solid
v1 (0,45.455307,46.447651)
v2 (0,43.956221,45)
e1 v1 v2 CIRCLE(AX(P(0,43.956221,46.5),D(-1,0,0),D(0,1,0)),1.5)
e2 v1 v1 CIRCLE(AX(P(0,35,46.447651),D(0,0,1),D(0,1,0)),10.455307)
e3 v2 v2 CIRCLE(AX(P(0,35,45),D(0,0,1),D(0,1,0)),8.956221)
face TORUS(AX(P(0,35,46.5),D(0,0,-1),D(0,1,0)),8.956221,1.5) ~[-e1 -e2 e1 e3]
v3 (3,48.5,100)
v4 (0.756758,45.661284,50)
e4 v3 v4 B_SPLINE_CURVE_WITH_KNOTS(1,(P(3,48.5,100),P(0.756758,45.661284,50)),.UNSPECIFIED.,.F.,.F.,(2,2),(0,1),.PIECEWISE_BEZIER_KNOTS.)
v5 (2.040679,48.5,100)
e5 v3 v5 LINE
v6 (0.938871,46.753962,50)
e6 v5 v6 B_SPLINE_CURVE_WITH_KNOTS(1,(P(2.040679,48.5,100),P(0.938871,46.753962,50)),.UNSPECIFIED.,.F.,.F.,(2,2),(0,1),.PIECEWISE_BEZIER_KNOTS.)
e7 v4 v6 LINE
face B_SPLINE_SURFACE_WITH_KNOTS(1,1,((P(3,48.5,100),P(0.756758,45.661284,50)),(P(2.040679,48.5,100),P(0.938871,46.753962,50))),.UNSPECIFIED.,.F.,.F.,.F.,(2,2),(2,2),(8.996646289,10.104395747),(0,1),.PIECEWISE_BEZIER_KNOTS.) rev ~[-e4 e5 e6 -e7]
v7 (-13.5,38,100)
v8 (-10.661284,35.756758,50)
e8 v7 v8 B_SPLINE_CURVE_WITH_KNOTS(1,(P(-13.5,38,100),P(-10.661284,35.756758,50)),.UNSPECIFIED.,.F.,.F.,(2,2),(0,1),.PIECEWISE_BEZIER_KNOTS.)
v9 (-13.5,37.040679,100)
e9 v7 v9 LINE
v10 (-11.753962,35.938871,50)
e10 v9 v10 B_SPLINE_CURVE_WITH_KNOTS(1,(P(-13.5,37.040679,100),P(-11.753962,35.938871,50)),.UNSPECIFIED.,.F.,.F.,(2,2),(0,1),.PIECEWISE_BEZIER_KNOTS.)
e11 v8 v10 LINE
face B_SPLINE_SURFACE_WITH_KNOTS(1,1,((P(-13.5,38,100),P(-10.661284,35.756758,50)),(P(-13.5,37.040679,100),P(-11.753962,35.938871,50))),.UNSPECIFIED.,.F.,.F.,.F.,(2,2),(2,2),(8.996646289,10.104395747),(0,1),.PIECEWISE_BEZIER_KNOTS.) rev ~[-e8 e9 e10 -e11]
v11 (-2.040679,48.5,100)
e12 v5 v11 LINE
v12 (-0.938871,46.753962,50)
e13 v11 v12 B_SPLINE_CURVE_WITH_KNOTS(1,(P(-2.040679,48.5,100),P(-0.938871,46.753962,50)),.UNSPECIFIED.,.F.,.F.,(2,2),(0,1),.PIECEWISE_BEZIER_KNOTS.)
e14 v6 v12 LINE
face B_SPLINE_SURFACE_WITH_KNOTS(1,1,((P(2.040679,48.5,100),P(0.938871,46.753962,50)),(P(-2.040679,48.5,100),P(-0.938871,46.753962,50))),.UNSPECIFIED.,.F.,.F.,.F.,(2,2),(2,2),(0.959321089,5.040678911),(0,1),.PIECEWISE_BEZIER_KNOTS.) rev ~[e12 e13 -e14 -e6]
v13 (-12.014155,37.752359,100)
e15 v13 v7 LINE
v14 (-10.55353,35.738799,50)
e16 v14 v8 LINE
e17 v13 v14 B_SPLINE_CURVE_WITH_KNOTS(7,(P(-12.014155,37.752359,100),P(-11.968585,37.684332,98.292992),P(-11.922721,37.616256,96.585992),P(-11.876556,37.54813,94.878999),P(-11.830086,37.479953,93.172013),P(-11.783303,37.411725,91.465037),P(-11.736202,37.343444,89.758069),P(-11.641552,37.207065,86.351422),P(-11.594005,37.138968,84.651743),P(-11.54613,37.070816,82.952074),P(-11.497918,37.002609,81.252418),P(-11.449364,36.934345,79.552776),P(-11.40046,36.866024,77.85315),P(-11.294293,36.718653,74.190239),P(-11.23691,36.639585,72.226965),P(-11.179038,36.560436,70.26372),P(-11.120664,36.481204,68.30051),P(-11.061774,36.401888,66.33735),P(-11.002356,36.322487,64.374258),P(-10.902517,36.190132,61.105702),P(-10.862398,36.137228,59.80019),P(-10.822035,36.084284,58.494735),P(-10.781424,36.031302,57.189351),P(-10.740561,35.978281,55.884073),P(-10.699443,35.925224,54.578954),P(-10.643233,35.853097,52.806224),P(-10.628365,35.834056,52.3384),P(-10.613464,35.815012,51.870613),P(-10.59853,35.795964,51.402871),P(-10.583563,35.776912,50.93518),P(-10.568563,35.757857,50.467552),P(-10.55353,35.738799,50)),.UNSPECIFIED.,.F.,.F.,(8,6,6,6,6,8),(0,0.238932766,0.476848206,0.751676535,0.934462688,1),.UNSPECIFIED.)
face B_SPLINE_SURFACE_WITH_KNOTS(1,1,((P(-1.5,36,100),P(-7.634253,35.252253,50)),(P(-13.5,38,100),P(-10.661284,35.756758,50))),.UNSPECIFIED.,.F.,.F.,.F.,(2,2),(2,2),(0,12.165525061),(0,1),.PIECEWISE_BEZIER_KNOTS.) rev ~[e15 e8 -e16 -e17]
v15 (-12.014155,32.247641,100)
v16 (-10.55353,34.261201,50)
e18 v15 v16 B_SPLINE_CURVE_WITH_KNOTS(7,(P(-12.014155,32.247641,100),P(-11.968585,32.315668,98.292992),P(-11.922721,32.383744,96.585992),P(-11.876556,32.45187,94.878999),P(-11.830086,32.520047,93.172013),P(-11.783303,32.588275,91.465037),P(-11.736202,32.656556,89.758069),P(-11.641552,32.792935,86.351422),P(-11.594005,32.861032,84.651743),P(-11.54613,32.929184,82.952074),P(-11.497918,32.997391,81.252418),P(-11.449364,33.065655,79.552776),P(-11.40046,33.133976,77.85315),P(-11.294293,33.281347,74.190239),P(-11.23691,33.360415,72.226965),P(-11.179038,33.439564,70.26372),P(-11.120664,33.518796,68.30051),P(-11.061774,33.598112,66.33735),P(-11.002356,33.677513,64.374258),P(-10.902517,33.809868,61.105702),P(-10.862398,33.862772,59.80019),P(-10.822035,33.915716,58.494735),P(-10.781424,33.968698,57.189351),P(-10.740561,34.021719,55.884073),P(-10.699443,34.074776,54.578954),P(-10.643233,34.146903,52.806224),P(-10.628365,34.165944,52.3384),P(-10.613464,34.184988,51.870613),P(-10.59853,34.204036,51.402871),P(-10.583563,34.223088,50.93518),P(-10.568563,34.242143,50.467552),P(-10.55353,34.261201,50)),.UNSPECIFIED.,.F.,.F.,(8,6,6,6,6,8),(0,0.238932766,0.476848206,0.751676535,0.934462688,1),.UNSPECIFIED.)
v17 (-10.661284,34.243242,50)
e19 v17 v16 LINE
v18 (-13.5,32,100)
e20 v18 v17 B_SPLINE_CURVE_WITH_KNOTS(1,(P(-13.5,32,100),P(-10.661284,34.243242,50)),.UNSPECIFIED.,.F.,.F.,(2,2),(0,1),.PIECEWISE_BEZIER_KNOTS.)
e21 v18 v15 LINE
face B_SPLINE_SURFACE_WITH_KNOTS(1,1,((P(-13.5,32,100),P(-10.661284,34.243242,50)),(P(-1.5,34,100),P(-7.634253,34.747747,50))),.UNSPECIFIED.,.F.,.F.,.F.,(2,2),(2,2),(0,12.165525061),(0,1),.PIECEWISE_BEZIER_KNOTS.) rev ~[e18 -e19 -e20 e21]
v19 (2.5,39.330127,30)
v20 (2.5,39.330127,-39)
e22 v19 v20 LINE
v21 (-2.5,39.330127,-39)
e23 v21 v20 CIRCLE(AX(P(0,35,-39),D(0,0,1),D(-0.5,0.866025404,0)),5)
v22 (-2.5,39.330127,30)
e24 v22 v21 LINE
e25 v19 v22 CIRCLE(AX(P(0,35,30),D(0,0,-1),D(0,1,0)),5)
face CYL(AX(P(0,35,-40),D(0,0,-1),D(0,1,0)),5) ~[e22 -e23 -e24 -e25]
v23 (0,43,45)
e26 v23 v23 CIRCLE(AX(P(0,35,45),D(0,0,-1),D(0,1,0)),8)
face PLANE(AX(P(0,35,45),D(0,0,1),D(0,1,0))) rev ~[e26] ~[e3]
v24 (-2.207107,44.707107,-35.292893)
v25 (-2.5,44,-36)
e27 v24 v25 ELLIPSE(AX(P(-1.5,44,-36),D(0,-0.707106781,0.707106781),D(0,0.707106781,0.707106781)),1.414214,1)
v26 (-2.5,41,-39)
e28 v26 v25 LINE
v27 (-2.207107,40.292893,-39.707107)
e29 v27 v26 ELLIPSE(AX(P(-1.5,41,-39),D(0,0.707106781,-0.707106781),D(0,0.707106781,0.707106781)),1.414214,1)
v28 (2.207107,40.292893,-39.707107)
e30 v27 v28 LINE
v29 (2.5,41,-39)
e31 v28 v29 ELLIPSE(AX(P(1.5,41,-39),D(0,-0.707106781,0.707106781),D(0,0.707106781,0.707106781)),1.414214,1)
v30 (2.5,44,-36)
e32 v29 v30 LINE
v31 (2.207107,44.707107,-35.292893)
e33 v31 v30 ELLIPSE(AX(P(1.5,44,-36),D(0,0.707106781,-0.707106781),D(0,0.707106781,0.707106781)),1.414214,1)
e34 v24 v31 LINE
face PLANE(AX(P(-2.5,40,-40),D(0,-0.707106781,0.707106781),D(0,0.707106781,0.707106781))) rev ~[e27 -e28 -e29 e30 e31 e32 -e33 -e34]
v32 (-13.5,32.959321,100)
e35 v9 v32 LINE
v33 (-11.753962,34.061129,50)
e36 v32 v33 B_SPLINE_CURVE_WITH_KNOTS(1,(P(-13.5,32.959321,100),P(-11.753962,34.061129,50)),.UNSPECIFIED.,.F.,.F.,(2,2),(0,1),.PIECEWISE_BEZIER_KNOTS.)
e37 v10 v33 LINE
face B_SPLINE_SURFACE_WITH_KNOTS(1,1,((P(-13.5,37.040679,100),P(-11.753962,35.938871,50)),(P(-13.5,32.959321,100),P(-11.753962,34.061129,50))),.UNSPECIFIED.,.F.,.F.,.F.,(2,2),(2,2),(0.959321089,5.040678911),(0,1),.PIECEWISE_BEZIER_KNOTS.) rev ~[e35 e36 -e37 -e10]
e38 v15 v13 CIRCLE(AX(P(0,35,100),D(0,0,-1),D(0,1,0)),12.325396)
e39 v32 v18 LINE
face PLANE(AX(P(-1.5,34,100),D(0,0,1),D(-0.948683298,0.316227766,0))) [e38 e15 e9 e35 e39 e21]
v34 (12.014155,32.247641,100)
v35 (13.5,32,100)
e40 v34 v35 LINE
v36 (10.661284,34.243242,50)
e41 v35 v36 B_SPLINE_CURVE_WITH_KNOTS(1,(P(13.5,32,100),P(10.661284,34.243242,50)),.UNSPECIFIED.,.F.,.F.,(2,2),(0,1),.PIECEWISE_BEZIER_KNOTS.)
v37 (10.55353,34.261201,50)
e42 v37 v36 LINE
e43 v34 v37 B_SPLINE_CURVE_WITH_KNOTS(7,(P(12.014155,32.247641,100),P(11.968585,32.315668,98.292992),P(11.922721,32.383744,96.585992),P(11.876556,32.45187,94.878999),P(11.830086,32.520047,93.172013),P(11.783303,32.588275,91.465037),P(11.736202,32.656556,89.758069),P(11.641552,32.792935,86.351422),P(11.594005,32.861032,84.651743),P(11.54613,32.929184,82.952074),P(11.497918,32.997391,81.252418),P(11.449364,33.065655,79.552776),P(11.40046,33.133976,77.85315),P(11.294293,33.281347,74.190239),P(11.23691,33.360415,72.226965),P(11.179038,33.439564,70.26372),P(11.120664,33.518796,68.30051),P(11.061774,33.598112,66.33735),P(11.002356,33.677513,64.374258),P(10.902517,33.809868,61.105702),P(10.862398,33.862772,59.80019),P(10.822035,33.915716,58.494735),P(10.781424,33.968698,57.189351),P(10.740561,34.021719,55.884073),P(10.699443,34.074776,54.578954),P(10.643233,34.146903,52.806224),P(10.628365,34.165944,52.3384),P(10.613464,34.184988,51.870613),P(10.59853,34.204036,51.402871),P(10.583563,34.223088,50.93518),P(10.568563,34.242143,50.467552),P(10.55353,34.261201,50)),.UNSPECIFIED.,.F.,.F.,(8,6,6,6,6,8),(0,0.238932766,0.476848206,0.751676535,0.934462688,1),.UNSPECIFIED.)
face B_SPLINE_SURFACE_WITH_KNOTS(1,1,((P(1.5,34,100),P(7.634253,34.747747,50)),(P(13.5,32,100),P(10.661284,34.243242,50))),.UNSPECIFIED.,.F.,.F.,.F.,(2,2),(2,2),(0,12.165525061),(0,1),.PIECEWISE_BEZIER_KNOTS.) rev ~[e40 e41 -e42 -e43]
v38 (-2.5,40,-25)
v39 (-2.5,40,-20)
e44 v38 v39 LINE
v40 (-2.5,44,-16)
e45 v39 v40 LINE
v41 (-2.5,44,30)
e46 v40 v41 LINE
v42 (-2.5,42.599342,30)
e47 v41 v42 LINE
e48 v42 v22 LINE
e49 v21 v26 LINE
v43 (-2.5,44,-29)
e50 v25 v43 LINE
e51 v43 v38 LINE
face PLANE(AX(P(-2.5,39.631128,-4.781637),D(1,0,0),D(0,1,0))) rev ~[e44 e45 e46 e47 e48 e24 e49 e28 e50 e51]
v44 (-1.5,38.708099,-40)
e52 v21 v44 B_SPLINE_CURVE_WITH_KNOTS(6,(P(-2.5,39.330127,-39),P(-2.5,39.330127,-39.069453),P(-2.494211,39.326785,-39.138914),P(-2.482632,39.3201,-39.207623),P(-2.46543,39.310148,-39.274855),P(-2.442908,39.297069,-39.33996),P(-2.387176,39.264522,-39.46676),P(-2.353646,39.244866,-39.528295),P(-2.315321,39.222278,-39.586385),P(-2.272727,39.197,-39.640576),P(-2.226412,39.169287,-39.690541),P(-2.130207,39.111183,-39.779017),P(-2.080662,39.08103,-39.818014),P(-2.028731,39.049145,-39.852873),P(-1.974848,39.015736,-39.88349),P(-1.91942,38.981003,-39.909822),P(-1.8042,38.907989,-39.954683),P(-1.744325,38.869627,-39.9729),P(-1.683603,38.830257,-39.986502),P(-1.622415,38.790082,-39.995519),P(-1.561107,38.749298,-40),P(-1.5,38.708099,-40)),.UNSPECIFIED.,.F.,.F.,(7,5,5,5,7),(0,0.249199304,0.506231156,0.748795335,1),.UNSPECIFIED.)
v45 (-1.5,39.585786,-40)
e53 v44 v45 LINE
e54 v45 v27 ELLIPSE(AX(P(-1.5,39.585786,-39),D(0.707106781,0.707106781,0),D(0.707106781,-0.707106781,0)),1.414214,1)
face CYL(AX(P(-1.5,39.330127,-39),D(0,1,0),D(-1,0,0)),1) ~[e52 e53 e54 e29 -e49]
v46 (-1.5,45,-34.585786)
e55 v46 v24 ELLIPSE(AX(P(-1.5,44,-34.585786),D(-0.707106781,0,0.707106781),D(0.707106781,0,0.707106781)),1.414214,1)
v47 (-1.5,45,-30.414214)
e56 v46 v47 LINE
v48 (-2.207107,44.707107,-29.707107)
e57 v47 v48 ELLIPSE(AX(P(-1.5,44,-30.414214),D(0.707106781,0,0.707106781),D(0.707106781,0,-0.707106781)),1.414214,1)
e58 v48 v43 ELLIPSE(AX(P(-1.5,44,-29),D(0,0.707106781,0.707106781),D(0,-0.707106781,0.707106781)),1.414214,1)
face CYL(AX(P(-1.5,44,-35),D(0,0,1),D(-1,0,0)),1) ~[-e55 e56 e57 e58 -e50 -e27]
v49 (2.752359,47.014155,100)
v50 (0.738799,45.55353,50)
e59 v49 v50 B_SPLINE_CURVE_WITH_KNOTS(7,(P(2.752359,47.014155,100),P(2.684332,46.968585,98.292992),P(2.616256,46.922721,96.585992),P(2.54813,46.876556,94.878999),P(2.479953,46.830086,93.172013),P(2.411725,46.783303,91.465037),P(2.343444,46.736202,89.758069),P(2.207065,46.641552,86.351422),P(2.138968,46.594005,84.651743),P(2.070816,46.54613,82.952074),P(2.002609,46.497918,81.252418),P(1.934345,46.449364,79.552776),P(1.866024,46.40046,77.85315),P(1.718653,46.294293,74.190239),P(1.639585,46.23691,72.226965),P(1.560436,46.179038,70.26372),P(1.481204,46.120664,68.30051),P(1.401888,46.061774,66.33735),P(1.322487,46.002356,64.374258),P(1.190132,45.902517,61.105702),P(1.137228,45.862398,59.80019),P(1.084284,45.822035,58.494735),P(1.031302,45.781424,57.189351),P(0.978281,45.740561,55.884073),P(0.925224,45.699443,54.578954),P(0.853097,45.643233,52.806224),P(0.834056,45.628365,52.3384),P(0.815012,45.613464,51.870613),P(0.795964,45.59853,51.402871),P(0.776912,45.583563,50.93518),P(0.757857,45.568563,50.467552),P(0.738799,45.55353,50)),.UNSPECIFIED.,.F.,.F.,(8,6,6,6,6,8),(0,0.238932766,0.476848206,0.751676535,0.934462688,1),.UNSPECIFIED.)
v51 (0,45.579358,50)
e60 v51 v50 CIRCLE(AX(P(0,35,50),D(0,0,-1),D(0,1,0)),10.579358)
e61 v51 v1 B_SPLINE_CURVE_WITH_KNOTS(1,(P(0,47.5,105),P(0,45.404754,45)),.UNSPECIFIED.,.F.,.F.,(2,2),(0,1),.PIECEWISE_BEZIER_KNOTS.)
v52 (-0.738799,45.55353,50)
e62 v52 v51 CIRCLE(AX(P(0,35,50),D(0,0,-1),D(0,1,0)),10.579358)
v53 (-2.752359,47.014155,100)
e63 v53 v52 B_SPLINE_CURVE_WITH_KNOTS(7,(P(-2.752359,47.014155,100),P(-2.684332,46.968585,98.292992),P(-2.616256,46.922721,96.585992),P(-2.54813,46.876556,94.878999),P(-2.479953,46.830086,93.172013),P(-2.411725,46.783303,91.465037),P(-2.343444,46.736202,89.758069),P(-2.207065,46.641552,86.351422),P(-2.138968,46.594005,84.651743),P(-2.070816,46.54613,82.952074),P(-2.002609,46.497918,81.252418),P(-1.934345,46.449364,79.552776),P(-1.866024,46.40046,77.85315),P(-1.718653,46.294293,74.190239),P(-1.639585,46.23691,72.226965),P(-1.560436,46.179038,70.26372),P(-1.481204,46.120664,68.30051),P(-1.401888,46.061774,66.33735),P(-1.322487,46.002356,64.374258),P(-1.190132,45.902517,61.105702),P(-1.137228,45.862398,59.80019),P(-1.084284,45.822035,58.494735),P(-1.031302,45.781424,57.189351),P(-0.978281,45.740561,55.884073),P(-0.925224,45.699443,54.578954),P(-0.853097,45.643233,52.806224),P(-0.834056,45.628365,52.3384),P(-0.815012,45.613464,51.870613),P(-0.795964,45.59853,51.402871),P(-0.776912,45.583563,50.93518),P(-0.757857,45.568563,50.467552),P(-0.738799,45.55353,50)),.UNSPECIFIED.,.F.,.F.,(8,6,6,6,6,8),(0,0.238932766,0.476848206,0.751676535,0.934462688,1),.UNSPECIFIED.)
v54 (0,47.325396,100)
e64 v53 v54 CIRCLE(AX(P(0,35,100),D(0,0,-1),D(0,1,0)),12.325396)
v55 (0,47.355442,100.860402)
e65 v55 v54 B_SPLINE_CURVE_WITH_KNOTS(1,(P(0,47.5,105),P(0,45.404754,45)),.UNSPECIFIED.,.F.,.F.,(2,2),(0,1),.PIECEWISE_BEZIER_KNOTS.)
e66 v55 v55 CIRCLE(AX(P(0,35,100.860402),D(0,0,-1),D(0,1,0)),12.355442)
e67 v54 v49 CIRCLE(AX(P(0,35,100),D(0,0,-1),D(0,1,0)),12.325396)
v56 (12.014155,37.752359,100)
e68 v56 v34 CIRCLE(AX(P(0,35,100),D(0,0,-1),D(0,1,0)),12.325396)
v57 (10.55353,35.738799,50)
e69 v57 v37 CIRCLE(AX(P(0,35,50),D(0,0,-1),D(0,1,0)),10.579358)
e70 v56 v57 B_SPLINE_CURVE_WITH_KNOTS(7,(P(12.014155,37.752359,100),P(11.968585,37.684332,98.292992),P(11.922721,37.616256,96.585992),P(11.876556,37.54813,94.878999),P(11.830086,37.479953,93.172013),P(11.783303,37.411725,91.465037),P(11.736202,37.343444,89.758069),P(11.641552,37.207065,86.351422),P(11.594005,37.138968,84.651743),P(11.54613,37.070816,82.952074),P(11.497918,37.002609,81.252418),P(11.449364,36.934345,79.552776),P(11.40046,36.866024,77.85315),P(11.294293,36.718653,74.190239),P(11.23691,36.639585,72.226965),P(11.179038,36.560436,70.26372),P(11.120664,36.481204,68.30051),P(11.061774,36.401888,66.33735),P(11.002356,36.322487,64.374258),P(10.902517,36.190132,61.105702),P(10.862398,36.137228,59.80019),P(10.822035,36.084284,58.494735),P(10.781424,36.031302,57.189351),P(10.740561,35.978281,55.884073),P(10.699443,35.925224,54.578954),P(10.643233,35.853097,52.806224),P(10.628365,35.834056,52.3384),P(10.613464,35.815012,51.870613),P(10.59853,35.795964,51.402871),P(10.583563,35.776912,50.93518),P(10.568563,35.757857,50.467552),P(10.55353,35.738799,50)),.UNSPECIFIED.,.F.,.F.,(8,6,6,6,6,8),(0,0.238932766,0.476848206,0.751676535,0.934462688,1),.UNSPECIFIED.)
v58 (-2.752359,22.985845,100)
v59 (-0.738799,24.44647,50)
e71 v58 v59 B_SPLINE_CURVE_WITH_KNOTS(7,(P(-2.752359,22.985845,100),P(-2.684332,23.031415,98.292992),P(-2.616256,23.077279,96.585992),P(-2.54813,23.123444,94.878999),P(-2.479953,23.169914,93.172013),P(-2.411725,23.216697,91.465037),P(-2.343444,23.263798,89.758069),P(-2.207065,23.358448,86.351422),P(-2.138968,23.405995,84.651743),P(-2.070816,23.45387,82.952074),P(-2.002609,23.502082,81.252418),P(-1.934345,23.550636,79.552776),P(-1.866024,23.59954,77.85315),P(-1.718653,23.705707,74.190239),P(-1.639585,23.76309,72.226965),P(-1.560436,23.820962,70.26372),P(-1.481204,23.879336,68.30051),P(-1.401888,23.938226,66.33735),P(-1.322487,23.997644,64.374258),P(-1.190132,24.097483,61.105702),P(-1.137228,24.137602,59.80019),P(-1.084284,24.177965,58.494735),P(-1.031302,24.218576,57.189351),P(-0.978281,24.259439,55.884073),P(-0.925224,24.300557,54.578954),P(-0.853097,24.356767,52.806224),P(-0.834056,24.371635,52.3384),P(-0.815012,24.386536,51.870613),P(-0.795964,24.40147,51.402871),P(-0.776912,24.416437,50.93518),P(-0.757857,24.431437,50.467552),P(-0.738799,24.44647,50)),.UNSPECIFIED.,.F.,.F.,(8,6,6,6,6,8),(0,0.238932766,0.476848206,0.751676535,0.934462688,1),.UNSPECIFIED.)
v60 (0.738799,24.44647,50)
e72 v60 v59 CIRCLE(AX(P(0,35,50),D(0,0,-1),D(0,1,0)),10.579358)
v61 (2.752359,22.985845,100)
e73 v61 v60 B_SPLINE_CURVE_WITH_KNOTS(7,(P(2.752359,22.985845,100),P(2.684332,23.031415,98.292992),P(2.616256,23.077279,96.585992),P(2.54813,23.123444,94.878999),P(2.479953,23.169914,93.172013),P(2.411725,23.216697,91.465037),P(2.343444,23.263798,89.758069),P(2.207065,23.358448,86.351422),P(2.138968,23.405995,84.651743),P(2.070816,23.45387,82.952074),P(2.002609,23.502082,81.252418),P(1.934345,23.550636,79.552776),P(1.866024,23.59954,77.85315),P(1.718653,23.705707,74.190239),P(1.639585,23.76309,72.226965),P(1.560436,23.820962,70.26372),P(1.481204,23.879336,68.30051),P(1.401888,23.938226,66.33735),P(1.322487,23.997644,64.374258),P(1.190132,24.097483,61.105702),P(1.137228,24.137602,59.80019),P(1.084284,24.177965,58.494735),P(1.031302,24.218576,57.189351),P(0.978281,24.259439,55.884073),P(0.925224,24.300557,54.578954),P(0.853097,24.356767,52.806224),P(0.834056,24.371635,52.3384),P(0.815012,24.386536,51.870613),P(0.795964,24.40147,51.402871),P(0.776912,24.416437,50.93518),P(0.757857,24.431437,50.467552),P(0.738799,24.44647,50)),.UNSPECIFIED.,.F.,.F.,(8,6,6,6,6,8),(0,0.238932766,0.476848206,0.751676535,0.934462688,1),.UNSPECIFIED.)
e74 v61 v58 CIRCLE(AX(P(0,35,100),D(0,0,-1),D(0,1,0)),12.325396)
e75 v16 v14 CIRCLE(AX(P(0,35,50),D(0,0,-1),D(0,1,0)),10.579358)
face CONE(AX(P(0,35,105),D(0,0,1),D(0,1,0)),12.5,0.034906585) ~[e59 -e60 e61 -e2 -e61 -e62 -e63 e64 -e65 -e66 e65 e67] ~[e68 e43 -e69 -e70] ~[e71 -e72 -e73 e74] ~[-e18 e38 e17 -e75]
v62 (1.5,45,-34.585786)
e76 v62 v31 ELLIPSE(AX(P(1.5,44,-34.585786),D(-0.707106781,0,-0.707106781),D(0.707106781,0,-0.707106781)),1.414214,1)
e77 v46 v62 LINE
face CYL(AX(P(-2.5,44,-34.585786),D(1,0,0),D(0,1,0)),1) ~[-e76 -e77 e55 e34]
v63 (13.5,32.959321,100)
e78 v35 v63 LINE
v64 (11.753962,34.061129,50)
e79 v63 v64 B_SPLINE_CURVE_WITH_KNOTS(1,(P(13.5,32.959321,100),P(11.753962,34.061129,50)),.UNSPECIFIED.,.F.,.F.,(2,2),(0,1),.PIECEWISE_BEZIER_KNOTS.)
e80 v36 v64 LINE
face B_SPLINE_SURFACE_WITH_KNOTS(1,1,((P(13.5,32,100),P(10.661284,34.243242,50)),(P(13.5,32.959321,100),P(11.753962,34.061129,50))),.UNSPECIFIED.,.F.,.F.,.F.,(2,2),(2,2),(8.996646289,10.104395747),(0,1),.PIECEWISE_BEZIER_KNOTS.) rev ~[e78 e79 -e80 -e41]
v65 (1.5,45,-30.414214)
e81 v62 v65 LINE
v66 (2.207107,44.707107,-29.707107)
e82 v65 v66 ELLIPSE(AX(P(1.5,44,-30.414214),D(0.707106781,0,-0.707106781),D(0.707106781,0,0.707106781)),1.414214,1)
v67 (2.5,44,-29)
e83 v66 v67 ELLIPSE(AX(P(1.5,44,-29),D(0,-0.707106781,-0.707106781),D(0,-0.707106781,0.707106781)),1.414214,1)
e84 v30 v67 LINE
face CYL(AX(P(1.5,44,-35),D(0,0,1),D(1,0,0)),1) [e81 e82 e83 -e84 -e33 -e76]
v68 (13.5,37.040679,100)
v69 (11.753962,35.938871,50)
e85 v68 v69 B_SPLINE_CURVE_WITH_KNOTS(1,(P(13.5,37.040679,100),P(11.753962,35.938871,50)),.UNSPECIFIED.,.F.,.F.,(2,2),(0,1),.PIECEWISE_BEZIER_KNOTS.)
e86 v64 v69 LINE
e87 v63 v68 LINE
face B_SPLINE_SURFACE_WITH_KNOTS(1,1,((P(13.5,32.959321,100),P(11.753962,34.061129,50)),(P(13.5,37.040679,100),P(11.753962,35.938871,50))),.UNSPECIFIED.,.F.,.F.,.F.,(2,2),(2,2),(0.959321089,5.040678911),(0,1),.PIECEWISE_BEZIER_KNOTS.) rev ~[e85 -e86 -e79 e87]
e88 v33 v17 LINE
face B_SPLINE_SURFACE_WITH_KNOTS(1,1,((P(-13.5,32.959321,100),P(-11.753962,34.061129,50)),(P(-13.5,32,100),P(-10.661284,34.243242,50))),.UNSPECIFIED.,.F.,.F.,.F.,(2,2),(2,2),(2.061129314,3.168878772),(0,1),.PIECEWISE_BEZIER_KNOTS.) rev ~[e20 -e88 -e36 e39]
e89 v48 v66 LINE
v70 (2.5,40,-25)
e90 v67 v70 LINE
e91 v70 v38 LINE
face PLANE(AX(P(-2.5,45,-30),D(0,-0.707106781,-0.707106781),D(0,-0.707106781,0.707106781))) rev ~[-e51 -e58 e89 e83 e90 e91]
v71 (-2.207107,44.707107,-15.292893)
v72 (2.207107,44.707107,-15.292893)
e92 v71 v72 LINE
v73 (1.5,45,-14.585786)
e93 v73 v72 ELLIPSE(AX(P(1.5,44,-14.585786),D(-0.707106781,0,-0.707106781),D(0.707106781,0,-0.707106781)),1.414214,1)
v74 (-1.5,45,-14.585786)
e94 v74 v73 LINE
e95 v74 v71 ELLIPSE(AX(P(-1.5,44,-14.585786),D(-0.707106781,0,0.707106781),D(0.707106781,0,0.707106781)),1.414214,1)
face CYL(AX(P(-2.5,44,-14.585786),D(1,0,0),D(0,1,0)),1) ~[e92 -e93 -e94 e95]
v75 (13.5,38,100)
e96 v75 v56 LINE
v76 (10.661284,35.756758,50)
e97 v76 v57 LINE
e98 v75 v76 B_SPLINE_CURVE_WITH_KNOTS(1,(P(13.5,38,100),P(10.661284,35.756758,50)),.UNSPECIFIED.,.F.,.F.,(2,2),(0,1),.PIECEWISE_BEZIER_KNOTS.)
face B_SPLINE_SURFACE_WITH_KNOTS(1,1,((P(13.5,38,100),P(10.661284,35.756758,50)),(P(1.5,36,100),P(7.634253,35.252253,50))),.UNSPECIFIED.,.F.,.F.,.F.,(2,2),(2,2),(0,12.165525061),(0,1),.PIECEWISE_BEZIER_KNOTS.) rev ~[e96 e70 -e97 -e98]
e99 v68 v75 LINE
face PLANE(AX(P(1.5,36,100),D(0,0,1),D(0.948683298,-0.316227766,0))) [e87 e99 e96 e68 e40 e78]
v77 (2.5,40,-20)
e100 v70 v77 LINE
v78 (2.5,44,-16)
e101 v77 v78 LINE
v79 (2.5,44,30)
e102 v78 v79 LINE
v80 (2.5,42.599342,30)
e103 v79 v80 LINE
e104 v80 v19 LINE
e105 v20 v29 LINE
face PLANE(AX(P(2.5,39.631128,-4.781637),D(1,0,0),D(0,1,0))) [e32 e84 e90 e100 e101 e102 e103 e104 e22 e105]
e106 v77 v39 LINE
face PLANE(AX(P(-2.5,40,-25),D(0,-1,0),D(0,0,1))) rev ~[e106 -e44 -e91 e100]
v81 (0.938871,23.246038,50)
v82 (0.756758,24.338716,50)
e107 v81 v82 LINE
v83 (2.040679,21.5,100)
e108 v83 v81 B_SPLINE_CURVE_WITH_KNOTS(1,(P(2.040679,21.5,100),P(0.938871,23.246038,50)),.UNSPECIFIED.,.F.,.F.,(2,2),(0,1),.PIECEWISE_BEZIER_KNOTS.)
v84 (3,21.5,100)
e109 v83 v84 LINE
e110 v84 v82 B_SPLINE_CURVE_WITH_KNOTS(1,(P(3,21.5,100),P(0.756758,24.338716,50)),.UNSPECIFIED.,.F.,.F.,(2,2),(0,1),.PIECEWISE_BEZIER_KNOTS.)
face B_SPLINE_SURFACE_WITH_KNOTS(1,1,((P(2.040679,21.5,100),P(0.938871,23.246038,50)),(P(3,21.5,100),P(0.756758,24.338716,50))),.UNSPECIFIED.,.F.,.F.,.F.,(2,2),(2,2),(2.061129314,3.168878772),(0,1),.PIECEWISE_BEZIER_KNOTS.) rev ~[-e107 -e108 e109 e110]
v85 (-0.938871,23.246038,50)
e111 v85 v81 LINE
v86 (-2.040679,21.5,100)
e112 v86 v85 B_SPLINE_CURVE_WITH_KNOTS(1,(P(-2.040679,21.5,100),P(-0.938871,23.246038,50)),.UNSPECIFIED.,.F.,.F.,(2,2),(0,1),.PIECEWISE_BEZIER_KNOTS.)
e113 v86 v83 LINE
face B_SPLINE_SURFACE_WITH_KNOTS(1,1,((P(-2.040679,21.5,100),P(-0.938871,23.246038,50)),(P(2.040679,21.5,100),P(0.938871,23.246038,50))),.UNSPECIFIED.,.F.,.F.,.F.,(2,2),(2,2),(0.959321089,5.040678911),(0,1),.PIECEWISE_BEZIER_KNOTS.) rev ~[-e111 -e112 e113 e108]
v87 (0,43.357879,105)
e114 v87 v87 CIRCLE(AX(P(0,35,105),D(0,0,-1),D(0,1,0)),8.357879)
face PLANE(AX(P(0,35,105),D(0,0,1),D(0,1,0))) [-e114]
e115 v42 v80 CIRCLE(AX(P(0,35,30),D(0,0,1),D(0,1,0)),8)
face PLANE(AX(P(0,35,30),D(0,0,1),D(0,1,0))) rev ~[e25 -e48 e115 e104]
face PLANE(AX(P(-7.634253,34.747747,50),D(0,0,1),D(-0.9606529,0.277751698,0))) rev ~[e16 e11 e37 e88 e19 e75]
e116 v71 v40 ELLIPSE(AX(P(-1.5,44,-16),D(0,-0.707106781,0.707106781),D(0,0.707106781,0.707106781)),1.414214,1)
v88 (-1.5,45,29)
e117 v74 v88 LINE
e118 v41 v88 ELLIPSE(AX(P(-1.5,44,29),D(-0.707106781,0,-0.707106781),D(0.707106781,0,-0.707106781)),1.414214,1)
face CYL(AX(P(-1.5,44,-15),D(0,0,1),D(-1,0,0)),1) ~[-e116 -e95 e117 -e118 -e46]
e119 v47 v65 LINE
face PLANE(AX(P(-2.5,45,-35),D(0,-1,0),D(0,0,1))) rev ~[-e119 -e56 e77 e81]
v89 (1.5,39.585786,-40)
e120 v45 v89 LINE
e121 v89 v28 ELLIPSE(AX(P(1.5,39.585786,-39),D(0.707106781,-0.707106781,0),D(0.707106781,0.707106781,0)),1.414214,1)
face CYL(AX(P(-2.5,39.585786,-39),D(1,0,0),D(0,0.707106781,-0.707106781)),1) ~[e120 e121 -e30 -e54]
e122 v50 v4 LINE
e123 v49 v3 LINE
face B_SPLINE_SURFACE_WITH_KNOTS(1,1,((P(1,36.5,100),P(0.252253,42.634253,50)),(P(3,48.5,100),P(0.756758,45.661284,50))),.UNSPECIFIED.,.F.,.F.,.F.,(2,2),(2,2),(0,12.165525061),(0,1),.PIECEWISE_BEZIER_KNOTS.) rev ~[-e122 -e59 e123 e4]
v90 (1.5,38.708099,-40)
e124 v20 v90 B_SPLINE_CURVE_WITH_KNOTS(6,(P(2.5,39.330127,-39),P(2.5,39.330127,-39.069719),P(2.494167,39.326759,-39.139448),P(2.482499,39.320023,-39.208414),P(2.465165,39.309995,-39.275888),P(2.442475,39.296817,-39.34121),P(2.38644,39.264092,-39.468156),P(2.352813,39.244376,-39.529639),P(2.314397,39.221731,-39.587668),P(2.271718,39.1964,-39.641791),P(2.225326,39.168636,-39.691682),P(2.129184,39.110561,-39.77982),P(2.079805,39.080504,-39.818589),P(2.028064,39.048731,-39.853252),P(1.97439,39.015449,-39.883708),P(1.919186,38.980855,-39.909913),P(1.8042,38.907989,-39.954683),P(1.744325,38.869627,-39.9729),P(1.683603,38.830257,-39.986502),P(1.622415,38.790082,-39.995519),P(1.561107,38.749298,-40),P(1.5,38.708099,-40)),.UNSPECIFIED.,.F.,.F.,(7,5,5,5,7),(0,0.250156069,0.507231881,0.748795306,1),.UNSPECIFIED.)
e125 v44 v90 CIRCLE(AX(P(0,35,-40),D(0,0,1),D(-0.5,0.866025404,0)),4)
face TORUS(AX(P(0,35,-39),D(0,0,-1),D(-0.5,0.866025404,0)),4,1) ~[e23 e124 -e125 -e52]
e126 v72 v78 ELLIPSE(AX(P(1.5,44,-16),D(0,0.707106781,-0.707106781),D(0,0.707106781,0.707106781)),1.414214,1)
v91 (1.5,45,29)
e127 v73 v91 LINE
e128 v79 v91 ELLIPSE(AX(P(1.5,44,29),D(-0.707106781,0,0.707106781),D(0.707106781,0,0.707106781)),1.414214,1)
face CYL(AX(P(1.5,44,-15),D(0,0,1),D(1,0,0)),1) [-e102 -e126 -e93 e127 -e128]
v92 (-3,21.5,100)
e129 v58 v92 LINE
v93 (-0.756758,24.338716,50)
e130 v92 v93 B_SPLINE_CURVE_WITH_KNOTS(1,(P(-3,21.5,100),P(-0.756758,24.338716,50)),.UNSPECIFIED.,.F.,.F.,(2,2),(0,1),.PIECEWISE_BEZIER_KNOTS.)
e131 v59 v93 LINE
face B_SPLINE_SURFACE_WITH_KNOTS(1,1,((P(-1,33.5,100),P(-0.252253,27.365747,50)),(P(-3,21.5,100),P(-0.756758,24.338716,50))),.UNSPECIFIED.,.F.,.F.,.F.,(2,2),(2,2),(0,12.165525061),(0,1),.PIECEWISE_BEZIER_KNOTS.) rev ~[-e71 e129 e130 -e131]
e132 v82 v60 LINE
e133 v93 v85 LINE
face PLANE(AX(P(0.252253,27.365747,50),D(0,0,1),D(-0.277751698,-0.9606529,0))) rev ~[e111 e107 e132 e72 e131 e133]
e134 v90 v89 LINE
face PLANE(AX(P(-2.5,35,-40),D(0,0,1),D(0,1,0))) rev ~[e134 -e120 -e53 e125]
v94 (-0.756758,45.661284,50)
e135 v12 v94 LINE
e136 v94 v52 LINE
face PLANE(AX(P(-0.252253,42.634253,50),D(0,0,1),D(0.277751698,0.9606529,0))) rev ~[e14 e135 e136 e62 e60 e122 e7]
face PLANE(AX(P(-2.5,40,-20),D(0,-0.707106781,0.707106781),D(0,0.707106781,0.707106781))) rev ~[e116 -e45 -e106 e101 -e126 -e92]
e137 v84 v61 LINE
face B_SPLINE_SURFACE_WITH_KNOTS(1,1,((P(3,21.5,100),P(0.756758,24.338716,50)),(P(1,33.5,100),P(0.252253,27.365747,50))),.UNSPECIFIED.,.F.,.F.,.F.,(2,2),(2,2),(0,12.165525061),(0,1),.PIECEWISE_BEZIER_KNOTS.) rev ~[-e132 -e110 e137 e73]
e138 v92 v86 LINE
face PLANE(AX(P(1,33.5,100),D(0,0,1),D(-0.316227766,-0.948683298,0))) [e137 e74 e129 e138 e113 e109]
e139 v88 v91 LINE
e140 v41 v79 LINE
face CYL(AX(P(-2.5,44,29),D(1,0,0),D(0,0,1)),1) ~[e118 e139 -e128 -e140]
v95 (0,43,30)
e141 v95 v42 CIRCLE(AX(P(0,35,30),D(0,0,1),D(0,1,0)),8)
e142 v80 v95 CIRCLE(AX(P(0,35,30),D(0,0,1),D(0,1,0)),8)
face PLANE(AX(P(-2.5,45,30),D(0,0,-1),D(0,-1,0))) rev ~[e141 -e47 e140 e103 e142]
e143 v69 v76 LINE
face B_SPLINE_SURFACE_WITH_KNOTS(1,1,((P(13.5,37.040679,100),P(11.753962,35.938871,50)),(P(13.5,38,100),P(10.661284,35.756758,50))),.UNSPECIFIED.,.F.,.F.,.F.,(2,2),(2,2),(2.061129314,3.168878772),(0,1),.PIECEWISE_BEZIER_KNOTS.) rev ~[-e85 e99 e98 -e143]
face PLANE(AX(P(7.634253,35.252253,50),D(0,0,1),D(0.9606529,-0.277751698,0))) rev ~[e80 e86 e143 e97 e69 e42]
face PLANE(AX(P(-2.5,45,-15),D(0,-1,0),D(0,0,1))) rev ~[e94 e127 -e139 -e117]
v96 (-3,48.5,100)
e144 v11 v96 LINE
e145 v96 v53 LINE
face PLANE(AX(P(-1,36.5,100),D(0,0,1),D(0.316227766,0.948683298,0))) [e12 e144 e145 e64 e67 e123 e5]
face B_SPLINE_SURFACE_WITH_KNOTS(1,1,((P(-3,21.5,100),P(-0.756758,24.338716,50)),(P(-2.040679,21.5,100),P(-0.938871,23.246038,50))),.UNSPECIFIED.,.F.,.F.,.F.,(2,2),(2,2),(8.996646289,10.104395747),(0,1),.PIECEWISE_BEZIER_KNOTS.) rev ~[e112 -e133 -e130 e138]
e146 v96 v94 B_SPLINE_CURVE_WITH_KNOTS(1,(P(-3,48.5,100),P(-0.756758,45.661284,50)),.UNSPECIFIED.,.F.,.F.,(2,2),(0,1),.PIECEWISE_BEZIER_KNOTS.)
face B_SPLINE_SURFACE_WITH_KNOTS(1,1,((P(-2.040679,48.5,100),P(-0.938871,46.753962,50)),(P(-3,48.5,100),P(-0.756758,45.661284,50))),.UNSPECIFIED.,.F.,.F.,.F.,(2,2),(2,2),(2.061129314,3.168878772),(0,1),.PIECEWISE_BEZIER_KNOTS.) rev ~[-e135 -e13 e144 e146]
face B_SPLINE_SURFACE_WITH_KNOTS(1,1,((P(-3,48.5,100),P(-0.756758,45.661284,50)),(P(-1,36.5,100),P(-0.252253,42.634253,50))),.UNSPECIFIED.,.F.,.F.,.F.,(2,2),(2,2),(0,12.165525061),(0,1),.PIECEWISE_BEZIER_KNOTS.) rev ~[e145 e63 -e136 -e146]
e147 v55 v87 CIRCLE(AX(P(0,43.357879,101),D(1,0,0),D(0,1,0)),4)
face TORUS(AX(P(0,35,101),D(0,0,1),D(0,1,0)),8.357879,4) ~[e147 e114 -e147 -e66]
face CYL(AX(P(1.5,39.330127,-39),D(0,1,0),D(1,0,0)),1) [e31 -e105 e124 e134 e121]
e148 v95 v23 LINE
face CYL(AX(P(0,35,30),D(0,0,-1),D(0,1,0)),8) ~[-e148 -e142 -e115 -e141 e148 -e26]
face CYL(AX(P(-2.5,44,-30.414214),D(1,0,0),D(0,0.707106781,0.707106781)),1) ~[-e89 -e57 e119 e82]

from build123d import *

# Parameters (mm, degrees)
PAD_DEPTH            = 5
SKETCH001_R          = 8
PAD001_DEPTH         = 75
SKETCH002_R          = 12.5
PAD002_DEPTH         = 60
PAD002_TAPER         = 2
SKETCH004_R          = 5
PAD003_DEPTH         = 75
PAD004_DEPTH         = 50
PAD004_TAPER         = 2
FILLET_R             = 4
FILLET001_R          = 1.5
FILLET002_R          = 1
BODY_PLACEMENT_ANGLE = 270


with BuildPart() as part:
    # Sketch → Pad (new body)
    with BuildSketch(Plane.XZ.offset(2.5)):
        Polygon((20, 75), (10, 75), (10, 5), (15, 5), (20, 10), (20, 15), (15, 20), (15, 25), (20, 30), align=None)
    extrude(amount=PAD_DEPTH)

    # Sketch001 → Pad001 (join)
    with BuildSketch(Plane.XY.offset(75)):
        with Locations((10, -5)):
            Circle(SKETCH001_R)
    extrude(amount=PAD001_DEPTH)

    # Sketch002 → Pad002 (join)
    with BuildSketch(Plane.XY.offset(150)):
        with Locations((10, -5)):
            Circle(SKETCH002_R)
    extrude(amount=-PAD002_DEPTH, taper=PAD002_TAPER)

    # Sketch004 → Pad003 (join)
    with BuildSketch(Plane.XY.offset(5)):
        with Locations((10, -5)):
            Circle(SKETCH004_R)
    extrude(amount=PAD003_DEPTH)

    # Sketch003 → Pad004 (join)
    with BuildSketch(Plane.XY.offset(145)):
        Polygon((11.5, -4), (11.5, -6), (23.5, -8), (23.5, -2), align=None)
        Polygon((11, -6.5), (9, -6.5), (7, -18.5), (13, -18.5), align=None)
        Polygon((8.5, -6), (8.5, -4), (-3.5, -2), (-3.5, -8), align=None)
        Polygon((9, -3.5), (11, -3.5), (13, 8.5), (7, 8.5), align=None)
    extrude(amount=-PAD004_DEPTH, taper=PAD004_TAPER)

    # Fillet
    fillet_edges = [part.edges().sort_by_distance(p)[0] for p in [
        (-2.5, -5, 150),
    ]]
    fillet(fillet_edges, radius=FILLET_R)

    # Fillet001
    fillet001_edges = [part.edges().sort_by_distance(p)[0] for p in [
        (-0.404754, -5, 90),
    ]]
    fillet(fillet001_edges, radius=FILLET001_R)

    # Fillet002
    fillet002_edges = [part.edges().sort_by_distance(p)[0] for p in [
        (14.665064, -2.5, 5),
        (15, -5, 5),
        (14.665064, -7.5, 5),
        (5, -5, 5),
        (20, -5, 30),
        (20, -5, 75),
        (20, -2.5, 52.5),
        (20, -7.5, 52.5),
        (20, -5, 15),
        (20, -5, 10),
        (20, -2.5, 12.5),
        (20, -7.5, 12.5),
    ]]
    fillet(fillet002_edges, radius=FILLET002_R)


with BuildPart() as part_1:
    # Body placement: moved
    add(part.part.moved(Location((-5, 25, -45))).rotate(Axis((-5, 25, -45), (0, 0, -1)), BODY_PLACEMENT_ANGLE))


solid = part_1.part
